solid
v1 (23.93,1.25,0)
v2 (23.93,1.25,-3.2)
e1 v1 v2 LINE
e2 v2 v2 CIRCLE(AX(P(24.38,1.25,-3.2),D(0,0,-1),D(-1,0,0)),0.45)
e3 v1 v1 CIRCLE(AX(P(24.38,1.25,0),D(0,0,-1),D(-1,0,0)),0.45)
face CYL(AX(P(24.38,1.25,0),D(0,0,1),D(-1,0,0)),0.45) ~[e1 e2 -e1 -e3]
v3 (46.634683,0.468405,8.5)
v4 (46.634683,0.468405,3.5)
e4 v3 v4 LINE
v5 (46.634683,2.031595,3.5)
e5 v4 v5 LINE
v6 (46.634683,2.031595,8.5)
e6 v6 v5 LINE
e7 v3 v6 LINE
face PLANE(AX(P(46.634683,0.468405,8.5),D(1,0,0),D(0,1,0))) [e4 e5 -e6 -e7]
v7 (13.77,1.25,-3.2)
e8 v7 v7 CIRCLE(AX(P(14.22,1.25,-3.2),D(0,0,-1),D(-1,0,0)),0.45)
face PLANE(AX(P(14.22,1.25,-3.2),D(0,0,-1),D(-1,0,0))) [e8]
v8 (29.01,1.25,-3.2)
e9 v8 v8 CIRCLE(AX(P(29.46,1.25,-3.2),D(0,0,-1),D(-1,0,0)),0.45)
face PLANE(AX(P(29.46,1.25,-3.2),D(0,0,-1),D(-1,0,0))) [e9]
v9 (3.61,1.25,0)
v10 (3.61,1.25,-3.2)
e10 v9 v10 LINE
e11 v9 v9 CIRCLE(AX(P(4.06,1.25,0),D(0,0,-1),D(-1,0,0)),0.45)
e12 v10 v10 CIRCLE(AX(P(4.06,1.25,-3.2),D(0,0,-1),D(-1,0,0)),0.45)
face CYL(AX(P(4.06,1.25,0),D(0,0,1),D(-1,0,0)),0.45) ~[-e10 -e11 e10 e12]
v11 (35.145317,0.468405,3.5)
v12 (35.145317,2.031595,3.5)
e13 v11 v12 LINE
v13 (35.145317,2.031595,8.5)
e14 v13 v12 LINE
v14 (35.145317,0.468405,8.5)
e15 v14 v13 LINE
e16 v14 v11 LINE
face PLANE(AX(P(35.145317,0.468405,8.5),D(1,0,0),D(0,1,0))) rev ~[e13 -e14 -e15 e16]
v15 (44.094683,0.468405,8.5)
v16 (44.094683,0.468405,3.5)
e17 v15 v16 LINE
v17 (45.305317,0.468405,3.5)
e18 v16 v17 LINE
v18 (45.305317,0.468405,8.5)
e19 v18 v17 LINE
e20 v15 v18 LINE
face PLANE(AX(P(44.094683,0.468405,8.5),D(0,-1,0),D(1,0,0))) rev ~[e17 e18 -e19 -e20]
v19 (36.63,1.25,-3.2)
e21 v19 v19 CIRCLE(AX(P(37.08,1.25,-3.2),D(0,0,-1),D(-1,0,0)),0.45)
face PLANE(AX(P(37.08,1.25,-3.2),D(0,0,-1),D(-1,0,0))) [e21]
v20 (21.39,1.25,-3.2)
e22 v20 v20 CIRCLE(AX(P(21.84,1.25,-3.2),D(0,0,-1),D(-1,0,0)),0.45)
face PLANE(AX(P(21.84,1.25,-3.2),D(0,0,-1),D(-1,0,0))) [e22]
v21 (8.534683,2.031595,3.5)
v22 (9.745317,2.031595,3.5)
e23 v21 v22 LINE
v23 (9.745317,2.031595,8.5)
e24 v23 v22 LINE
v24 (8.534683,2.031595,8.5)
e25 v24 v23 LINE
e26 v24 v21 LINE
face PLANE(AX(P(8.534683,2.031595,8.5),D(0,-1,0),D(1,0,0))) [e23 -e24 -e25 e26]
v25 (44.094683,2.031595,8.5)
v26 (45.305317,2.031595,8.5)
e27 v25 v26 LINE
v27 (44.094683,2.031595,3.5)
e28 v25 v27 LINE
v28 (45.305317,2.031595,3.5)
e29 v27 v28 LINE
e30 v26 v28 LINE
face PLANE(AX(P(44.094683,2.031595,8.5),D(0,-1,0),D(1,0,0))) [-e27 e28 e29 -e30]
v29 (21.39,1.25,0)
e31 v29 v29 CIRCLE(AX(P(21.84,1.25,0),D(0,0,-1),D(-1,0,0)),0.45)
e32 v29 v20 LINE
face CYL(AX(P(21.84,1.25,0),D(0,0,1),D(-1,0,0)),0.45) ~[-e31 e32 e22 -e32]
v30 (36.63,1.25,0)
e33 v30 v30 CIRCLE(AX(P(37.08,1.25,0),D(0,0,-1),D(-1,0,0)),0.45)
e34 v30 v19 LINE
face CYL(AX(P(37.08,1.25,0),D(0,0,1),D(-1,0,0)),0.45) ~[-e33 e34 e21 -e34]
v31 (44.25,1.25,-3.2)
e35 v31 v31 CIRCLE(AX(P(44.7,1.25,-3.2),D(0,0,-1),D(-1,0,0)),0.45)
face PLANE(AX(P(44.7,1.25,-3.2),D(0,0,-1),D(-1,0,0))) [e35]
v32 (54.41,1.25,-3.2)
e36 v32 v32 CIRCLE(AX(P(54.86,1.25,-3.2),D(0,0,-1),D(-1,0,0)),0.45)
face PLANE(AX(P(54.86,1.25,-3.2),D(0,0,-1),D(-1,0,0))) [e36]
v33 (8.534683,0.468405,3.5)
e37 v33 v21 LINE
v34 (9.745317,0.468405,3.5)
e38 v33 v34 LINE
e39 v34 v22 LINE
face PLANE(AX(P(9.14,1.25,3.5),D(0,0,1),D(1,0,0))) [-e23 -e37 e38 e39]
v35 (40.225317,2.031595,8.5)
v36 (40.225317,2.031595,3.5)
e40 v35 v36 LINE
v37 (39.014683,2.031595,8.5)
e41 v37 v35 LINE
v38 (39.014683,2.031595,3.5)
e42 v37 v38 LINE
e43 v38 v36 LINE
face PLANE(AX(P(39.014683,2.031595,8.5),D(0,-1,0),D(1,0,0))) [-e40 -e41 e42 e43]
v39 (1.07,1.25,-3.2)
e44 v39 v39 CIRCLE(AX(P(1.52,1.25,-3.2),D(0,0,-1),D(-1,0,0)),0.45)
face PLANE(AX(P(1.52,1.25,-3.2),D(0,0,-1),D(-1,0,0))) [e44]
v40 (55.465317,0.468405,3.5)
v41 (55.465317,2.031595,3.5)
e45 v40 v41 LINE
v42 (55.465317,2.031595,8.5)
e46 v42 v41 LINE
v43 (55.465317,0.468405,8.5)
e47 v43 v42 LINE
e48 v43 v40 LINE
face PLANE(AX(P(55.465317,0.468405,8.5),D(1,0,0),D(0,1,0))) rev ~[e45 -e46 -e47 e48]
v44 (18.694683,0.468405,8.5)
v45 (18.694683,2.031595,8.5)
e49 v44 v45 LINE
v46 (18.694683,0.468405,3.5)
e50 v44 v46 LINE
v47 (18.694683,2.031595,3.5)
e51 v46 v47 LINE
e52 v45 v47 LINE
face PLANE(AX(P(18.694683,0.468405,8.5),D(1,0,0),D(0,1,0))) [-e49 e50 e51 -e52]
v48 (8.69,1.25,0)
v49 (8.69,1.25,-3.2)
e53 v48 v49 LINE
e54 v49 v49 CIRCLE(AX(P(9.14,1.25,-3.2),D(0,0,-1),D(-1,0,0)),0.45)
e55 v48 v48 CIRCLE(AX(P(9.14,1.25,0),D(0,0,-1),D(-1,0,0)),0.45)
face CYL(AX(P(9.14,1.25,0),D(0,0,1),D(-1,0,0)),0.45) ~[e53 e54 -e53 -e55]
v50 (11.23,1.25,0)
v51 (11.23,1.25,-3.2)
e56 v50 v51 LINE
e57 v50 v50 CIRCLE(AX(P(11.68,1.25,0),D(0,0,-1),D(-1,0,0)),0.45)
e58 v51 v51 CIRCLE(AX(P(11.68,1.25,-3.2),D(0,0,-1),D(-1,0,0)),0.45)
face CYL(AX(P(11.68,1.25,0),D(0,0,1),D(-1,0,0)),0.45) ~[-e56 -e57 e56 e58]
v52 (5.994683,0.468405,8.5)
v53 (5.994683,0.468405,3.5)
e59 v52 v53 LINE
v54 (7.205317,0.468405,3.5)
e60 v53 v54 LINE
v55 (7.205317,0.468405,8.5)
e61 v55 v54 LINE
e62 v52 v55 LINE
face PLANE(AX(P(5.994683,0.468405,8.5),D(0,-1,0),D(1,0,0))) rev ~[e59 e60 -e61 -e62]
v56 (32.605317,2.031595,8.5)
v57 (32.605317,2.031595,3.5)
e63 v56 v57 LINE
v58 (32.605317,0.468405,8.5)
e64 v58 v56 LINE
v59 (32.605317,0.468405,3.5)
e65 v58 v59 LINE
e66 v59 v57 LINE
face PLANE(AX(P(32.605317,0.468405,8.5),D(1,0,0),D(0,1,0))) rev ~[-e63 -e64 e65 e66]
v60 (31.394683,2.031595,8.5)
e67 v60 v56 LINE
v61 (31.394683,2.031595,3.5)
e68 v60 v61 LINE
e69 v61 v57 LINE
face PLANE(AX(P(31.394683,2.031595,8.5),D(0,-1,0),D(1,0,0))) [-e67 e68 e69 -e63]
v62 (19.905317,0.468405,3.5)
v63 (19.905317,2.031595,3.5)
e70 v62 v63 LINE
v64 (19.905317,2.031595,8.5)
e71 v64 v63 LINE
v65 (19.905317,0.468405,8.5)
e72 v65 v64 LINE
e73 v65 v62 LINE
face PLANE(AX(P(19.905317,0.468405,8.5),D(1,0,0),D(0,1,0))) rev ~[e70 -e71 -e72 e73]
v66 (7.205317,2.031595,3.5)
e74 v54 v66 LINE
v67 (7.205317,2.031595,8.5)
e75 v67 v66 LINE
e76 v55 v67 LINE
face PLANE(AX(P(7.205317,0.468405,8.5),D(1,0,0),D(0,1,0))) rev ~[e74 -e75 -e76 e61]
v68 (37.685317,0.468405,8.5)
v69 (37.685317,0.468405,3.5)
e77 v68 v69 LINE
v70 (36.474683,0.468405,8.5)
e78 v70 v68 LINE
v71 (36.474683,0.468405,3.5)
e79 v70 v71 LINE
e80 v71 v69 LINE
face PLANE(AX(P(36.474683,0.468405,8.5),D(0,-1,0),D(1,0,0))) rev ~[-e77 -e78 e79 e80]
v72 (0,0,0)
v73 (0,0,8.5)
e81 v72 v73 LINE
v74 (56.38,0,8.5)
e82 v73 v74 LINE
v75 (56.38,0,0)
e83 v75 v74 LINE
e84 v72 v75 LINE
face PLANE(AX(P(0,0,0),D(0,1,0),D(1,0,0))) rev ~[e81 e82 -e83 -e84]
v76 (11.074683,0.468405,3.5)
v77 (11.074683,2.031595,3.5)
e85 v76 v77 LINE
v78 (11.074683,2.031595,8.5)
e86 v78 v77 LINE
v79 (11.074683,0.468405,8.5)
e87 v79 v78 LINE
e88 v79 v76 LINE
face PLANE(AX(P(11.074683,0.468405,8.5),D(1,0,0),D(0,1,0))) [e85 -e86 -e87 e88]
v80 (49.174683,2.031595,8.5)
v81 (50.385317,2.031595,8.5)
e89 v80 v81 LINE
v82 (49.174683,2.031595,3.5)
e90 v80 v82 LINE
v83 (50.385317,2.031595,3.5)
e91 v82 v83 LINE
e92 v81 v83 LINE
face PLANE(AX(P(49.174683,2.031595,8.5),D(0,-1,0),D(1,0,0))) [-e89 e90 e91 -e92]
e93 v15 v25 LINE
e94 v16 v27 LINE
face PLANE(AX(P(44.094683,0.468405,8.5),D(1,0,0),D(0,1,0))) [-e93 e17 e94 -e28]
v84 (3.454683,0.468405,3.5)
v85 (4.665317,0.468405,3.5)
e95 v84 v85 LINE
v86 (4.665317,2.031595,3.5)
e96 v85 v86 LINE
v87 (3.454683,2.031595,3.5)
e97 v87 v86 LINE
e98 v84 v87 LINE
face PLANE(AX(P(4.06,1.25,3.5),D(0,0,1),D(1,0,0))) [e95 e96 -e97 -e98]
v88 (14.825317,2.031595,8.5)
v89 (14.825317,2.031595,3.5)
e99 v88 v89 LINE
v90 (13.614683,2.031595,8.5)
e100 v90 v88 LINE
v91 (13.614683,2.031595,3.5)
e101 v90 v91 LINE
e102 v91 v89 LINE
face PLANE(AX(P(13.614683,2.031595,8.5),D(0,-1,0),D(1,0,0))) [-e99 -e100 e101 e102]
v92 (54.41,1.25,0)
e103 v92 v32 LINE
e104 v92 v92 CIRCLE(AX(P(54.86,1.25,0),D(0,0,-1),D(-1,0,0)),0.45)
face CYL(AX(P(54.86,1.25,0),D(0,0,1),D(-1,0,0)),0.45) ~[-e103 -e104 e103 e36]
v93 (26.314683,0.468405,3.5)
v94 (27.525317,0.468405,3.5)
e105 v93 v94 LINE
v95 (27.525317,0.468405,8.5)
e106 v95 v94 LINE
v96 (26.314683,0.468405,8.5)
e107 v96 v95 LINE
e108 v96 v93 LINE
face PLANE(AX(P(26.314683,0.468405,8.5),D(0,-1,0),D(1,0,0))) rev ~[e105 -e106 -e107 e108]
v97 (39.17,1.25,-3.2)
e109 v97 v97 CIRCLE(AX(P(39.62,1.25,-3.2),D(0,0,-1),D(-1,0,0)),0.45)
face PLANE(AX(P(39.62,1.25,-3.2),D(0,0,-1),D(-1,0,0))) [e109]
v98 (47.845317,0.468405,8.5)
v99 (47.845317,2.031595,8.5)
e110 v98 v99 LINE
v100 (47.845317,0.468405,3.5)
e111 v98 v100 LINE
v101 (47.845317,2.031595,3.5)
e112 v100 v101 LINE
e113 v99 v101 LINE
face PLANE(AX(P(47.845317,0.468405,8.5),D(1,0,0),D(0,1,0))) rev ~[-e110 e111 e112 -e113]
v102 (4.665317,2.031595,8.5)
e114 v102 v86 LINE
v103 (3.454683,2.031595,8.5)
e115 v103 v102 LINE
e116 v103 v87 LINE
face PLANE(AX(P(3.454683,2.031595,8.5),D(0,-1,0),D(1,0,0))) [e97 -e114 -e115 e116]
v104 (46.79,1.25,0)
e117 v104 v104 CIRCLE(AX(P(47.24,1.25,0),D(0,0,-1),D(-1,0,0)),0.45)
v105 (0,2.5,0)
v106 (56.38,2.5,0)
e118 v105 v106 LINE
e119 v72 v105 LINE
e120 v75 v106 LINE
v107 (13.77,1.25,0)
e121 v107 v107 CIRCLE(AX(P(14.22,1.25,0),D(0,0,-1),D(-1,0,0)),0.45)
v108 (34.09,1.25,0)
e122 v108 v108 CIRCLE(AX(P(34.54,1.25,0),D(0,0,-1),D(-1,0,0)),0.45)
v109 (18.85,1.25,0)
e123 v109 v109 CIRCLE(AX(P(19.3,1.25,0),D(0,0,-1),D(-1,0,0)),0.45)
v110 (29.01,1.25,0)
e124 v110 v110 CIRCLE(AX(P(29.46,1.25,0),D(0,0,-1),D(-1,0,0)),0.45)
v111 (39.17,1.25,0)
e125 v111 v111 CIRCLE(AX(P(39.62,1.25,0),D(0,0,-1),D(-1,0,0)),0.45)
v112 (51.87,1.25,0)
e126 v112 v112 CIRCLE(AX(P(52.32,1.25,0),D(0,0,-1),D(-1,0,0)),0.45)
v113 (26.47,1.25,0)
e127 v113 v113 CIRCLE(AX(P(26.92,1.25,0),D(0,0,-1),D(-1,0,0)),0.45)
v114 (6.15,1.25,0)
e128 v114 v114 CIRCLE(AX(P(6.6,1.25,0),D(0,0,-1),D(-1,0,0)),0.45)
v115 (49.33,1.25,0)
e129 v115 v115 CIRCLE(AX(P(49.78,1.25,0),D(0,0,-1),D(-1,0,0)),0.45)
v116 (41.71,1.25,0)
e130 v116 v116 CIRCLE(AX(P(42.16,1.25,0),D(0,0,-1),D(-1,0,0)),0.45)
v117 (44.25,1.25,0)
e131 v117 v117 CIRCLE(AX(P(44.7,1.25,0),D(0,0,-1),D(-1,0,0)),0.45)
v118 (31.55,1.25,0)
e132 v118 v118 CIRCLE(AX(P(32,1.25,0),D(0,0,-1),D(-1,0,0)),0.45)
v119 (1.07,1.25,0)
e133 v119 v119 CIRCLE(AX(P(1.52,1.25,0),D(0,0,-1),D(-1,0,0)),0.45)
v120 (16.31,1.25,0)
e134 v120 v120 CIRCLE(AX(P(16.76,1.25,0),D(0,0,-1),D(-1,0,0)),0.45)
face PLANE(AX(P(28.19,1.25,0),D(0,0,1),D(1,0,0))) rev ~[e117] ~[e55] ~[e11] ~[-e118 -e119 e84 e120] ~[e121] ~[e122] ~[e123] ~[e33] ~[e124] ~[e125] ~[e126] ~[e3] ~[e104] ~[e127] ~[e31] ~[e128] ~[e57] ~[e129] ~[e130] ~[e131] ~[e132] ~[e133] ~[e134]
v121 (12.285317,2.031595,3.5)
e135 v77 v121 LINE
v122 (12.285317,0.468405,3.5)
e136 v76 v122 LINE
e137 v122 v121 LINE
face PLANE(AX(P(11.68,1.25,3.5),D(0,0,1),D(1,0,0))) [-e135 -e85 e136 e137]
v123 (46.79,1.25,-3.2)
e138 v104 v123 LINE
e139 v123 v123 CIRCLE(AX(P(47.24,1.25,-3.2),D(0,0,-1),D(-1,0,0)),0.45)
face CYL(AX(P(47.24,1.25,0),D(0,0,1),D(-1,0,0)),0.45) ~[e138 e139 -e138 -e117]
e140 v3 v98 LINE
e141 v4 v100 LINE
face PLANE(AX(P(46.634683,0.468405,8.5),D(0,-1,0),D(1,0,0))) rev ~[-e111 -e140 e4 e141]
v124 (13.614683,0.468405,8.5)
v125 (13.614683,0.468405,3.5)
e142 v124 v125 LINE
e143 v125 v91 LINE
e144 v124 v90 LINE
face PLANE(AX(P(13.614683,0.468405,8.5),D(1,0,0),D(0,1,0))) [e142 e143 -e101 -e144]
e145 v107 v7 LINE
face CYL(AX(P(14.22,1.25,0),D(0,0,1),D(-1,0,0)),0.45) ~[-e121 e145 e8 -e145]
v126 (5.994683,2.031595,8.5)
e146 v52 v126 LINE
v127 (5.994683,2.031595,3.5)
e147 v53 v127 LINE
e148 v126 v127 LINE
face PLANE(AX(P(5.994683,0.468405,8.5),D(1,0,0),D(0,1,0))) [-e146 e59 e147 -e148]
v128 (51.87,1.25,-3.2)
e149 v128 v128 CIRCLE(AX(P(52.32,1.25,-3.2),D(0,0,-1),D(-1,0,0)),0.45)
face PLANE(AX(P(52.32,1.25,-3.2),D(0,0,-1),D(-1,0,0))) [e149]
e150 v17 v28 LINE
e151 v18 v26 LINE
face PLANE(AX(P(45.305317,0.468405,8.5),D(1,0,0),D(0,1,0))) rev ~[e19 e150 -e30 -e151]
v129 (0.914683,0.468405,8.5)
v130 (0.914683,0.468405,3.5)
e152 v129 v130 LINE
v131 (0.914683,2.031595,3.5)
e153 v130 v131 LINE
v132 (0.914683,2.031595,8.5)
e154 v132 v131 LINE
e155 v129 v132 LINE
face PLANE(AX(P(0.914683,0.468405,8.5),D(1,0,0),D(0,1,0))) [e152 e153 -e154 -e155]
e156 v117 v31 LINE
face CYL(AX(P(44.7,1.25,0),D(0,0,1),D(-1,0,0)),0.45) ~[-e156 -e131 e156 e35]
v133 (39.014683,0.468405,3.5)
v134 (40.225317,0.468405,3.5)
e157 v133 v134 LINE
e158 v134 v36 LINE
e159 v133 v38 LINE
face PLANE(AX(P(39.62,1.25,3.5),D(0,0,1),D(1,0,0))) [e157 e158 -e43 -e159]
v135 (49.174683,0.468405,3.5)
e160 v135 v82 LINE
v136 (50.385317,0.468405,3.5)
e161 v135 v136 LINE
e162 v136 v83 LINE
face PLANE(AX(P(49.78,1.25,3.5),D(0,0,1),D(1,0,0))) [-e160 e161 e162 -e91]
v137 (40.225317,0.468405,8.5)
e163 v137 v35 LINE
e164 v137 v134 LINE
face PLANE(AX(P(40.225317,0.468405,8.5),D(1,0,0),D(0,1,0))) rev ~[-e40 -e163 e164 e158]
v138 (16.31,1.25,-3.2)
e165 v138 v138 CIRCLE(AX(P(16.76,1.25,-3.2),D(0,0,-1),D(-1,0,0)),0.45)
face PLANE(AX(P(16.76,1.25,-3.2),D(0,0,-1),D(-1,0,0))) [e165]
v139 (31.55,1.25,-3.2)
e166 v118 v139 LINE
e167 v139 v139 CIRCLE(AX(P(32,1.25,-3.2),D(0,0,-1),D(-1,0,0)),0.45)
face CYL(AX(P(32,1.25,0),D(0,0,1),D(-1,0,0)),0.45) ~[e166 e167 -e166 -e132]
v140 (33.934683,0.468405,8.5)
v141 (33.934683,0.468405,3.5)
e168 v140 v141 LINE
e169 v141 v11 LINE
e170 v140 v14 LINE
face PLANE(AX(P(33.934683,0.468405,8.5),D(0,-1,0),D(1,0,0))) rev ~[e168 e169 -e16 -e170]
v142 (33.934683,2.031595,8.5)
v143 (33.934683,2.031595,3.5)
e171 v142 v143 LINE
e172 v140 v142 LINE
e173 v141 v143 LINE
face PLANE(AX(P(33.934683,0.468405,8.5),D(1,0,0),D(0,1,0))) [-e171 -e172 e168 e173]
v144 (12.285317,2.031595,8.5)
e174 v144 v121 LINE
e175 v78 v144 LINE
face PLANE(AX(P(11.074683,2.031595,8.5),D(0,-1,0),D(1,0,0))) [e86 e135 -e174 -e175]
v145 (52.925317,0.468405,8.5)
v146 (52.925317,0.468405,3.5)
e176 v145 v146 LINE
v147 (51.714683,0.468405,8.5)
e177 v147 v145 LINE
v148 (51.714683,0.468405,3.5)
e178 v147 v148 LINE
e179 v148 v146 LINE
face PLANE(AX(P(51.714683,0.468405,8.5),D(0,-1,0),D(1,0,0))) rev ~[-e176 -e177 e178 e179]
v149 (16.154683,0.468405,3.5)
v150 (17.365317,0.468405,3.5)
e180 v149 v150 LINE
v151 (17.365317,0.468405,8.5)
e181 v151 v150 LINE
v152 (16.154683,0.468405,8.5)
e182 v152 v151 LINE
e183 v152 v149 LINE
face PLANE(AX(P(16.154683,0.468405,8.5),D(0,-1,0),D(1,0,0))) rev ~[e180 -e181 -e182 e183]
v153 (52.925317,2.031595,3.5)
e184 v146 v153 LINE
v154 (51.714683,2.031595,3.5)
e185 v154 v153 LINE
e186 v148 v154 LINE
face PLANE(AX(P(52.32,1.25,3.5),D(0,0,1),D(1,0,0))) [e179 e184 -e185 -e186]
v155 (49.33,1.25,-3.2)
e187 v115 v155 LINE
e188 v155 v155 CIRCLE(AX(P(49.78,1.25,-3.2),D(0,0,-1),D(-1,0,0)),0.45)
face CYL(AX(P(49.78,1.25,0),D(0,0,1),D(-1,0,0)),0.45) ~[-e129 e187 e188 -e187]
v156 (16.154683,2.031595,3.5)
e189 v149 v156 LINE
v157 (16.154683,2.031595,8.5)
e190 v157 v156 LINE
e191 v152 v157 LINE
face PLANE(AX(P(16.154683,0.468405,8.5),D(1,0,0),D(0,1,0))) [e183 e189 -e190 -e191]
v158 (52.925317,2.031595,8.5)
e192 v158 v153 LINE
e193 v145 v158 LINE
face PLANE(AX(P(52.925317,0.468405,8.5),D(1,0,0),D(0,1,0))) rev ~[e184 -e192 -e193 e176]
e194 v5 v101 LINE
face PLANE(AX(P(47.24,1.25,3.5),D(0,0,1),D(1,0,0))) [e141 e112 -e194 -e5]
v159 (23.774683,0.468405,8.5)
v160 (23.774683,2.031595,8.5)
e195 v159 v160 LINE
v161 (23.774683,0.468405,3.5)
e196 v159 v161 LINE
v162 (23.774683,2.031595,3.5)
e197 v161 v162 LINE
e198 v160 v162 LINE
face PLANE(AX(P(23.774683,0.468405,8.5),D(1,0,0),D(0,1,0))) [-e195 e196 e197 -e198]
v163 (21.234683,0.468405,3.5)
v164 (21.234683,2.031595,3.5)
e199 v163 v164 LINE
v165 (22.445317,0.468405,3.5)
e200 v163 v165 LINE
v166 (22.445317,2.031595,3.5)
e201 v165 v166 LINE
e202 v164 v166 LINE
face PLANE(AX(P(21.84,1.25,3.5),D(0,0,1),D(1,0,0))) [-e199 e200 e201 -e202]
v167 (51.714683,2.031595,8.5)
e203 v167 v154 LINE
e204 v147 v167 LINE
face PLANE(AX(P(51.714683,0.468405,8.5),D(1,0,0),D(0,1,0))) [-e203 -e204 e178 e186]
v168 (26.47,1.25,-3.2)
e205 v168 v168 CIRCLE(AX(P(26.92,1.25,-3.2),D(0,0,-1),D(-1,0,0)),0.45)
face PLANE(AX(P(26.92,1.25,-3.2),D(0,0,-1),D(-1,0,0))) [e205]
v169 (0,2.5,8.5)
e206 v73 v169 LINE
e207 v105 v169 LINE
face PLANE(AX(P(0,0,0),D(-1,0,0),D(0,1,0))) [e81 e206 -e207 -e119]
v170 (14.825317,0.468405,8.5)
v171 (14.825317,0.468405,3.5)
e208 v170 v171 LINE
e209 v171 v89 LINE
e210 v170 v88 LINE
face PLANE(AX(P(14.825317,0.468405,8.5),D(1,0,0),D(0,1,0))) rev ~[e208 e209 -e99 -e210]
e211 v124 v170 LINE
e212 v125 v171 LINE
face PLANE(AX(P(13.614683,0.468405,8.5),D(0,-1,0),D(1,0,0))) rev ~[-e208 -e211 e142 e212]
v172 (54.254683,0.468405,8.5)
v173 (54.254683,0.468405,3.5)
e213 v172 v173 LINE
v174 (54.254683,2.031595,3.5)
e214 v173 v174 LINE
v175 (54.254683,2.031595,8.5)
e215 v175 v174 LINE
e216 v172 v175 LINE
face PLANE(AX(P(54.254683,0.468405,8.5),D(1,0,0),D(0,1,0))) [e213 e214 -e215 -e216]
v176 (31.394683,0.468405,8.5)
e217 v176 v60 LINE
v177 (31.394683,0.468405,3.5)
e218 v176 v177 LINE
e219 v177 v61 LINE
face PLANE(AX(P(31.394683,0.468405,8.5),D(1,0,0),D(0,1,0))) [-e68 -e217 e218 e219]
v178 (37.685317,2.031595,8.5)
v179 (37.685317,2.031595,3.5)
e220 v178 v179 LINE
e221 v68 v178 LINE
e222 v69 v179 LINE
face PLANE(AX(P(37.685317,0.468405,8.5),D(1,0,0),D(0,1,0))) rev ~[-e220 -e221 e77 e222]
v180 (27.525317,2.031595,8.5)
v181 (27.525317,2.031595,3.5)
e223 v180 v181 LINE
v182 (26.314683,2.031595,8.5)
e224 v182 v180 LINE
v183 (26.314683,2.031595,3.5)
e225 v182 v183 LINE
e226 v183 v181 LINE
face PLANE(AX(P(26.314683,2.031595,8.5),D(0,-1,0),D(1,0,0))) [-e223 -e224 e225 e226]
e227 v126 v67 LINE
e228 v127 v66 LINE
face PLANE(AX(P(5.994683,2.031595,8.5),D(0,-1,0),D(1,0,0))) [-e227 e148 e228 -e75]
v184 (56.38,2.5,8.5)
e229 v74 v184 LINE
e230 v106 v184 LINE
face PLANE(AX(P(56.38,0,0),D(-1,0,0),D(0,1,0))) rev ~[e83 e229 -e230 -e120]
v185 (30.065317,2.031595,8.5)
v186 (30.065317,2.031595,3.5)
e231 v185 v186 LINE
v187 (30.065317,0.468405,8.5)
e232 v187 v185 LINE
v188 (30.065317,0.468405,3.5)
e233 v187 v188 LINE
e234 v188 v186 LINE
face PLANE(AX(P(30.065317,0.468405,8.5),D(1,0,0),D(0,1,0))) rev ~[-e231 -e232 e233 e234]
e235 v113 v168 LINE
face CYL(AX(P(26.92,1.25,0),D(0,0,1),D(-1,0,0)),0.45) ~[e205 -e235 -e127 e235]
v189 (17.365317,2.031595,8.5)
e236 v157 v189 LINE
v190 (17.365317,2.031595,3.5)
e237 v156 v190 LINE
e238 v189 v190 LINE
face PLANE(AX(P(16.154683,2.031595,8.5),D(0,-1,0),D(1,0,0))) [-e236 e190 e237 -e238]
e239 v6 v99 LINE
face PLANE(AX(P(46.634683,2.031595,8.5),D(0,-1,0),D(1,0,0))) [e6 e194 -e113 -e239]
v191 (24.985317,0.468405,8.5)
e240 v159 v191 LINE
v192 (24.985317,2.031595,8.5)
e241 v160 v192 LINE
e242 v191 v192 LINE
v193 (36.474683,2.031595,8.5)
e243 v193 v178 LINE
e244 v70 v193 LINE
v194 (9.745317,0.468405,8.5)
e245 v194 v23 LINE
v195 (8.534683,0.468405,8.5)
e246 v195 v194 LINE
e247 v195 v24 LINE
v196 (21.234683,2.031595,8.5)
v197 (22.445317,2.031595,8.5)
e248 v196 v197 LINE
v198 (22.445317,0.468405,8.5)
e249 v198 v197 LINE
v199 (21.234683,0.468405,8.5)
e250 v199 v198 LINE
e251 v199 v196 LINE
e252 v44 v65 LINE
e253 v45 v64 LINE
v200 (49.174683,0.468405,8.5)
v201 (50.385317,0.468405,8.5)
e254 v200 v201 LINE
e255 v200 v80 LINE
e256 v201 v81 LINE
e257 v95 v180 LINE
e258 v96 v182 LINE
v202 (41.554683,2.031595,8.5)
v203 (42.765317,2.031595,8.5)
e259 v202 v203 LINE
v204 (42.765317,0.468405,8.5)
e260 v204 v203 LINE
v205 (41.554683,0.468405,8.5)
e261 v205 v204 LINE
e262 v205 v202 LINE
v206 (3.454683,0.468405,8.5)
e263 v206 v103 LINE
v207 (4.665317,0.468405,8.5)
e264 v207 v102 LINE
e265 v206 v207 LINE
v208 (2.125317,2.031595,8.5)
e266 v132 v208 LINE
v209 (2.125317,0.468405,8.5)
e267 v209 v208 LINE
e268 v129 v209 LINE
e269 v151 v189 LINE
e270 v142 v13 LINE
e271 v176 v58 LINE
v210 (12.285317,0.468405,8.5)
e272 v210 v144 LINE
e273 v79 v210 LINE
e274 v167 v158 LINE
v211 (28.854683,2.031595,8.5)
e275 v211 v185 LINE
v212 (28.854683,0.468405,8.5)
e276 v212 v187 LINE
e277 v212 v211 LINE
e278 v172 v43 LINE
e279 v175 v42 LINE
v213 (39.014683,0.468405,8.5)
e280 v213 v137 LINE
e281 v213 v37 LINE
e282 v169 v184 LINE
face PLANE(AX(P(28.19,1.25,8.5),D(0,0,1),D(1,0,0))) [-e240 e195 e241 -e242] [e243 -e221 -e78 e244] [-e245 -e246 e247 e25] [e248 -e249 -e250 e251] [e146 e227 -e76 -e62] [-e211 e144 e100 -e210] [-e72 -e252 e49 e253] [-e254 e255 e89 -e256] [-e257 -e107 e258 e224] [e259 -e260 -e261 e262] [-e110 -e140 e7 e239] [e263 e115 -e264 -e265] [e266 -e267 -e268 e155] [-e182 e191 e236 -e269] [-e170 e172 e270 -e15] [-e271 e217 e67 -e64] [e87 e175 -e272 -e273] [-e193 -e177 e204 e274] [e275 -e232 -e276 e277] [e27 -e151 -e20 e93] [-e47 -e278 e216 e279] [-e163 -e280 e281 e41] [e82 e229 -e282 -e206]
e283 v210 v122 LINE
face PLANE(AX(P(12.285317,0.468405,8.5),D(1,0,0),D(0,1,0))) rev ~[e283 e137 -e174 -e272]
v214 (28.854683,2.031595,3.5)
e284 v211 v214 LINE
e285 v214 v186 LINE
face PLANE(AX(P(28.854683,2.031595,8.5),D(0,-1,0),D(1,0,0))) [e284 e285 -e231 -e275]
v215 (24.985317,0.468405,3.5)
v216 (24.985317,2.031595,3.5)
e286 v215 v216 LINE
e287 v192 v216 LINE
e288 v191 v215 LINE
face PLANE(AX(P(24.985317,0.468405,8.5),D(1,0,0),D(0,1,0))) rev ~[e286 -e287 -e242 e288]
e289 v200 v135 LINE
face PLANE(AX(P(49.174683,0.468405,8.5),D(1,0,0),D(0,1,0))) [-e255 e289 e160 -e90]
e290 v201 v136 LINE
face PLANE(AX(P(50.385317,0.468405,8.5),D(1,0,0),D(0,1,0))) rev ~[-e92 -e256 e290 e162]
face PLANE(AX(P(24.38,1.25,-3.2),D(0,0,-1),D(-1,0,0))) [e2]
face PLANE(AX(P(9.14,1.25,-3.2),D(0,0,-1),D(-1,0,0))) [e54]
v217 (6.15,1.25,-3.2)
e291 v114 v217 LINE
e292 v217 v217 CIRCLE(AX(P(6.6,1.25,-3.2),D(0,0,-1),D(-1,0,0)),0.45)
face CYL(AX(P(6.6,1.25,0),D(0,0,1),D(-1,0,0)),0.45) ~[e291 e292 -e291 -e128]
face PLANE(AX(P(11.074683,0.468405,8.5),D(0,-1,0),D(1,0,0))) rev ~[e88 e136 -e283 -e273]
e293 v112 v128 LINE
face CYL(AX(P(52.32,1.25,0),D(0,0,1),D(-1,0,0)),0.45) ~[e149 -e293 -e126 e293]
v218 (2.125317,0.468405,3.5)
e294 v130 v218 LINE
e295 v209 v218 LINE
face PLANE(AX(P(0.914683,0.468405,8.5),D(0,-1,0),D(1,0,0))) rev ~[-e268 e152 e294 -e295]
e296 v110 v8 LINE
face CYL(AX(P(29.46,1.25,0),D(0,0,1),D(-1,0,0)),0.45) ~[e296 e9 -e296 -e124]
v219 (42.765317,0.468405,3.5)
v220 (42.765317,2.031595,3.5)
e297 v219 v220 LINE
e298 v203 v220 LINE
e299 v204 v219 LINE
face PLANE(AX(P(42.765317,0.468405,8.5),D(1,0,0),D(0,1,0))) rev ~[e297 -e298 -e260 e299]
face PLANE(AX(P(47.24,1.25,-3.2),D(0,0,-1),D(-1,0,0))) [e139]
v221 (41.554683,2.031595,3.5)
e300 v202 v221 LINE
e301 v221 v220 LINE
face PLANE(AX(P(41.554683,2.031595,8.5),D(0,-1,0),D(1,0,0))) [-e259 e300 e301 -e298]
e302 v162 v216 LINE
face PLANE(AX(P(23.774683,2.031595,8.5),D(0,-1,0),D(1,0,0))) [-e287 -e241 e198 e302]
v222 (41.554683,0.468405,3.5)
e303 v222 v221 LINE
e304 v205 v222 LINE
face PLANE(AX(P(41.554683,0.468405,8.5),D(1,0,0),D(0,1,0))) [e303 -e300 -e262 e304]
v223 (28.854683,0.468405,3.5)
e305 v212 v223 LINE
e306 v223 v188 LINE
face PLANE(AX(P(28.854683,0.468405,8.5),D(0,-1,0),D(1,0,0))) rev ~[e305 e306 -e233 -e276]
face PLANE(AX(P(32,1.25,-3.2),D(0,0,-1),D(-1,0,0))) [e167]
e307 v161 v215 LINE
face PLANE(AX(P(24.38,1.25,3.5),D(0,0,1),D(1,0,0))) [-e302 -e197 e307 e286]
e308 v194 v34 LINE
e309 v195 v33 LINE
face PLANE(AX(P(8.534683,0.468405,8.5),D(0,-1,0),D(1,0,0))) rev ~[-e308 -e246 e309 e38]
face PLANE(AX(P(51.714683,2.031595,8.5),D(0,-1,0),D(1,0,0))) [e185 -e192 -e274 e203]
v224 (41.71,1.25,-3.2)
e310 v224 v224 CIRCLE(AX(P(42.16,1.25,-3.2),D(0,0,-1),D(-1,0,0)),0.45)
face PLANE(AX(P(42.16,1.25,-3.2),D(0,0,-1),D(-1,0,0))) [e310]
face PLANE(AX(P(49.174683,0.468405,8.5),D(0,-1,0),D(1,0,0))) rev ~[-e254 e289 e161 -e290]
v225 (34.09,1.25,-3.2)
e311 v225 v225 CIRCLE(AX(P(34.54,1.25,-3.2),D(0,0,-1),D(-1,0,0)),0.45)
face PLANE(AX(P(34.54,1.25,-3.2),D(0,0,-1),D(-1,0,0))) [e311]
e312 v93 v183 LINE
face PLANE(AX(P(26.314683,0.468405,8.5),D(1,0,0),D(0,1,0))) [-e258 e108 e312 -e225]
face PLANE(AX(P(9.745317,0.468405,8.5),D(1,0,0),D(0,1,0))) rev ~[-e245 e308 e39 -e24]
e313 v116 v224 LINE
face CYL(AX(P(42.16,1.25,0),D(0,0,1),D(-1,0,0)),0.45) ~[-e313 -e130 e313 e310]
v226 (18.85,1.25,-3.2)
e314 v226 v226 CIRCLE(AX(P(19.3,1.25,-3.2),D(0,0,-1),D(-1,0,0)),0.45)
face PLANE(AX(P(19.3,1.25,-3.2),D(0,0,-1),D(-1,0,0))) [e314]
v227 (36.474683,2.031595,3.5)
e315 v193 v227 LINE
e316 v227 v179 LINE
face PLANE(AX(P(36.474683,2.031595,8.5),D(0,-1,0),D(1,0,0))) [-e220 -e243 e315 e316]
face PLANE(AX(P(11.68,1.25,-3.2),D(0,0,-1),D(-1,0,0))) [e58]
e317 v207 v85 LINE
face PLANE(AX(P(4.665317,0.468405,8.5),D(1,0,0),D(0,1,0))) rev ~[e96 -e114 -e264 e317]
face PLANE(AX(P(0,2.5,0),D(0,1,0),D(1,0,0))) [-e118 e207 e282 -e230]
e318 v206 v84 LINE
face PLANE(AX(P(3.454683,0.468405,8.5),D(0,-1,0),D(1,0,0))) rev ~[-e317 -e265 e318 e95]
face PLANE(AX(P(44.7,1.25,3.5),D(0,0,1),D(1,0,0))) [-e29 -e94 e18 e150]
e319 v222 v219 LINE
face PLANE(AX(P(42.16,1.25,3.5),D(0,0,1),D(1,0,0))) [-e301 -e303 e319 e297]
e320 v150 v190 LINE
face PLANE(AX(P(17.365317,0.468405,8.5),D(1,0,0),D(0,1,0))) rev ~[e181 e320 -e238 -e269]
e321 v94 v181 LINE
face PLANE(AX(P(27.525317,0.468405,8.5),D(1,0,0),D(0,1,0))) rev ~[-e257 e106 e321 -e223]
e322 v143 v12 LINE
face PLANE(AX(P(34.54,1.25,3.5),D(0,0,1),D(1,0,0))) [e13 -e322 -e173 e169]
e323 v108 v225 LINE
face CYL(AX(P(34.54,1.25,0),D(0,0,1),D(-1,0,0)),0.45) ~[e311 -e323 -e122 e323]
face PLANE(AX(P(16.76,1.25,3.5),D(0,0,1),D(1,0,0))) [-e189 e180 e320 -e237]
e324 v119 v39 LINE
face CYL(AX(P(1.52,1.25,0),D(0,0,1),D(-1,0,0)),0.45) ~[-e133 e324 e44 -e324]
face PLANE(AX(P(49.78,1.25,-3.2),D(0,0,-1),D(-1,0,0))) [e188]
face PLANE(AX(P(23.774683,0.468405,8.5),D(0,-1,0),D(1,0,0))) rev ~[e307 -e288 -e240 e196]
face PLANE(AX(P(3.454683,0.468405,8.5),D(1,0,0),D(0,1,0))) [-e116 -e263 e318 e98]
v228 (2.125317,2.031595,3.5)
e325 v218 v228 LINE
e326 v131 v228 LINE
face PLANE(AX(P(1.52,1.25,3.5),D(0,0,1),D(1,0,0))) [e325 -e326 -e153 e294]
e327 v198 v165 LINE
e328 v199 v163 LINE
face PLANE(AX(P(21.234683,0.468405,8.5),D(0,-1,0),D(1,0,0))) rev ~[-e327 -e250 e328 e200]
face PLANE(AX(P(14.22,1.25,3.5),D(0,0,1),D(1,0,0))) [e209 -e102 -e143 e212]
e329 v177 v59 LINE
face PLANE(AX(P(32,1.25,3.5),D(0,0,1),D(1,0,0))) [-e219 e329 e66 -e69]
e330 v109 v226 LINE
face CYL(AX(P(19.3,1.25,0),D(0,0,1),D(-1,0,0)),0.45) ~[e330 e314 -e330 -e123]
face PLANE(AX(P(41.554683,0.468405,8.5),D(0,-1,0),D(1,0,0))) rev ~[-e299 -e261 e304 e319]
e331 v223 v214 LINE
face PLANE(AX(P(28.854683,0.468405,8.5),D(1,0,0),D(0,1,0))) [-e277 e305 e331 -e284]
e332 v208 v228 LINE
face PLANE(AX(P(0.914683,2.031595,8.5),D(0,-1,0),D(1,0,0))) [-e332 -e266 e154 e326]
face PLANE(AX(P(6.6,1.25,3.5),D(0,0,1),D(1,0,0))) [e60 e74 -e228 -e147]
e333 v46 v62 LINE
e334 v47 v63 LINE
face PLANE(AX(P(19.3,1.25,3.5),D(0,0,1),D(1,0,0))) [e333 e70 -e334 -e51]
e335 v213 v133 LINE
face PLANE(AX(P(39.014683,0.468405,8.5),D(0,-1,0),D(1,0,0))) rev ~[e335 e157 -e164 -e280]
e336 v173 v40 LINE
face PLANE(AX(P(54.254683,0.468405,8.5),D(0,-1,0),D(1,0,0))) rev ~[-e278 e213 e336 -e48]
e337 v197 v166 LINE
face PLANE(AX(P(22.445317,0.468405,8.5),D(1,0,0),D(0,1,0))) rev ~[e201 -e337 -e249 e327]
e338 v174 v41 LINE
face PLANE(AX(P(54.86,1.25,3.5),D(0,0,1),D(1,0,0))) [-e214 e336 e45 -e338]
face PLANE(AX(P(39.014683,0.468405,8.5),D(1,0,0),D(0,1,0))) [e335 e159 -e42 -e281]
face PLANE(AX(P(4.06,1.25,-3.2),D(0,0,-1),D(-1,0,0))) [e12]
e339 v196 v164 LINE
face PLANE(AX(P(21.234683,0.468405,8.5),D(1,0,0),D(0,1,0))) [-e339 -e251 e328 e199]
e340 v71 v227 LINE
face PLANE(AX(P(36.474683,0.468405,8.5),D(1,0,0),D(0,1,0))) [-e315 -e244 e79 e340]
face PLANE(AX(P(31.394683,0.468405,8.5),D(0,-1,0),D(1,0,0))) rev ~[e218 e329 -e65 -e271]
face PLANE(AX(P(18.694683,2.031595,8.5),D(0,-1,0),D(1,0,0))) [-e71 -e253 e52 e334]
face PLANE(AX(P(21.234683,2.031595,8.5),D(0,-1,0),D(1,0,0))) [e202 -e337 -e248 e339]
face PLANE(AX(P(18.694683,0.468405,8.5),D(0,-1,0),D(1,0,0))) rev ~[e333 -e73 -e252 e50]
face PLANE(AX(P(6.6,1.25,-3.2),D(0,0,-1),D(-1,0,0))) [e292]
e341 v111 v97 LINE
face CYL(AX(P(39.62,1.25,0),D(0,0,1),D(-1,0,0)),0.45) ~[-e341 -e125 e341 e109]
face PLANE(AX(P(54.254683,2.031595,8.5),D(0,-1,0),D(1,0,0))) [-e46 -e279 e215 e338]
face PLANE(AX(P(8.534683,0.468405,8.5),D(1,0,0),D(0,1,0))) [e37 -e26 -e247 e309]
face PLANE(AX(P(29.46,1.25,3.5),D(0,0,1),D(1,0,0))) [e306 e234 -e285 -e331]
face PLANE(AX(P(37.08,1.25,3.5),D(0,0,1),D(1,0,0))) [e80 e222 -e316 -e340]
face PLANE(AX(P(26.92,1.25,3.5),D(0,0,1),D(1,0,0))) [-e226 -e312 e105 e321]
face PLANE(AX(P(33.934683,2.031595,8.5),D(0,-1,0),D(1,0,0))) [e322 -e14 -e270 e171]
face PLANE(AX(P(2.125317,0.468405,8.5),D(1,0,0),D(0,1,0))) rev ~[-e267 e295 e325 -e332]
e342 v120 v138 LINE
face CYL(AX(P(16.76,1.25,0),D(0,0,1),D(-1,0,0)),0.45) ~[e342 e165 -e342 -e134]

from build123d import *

# Parameters (mm, degrees)
SKETCH_1_W             = 56.38
SKETCH_1_H             = 2.5
EXTRUDE_1_DEPTH        = 8.5
SKETCH_2_W             = 1.210634416
SKETCH_2_H             = 1.563190286
CUT_EXTRUDE_1_DEPTH    = 5
PATTERN_LINEAR_1_COUNT = 12
PATTERN_LINEAR_1_PITCH = 2.54
PATTERN_LINEAR_2_COUNT = 11
PATTERN_LINEAR_2_PITCH = 2.54
SKETCH_3_R             = 0.45
EXTRUDE_2_DEPTH        = 3.2
PATTERN_LINEAR_3_COUNT = 22
PATTERN_LINEAR_3_PITCH = 2.54


with BuildPart() as part:
    # 草图1 → 凸台-拉伸1 (new body)
    with BuildSketch(Plane.XY):
        with Locations((28.19, 1.25)):
            Rectangle(SKETCH_1_W, SKETCH_1_H)
    extrude(amount=EXTRUDE_1_DEPTH)

    # 草图2 → 切除-拉伸1 (cut)
    with BuildSketch(Plane.XY.offset(8.5)):
        with Locations((26.92, 1.25)):
            Rectangle(SKETCH_2_W, SKETCH_2_H)
    cut_extrude_1 = extrude(amount=-CUT_EXTRUDE_1_DEPTH, mode=Mode.SUBTRACT)

    # 阵列(线性)1: 切除-拉伸1 ×12
    with Locations(*[(i * PATTERN_LINEAR_1_PITCH, 0, 0) for i in range(1, PATTERN_LINEAR_1_COUNT)]):
        add(cut_extrude_1, mode=Mode.SUBTRACT)

    # 阵列(线性)2: 切除-拉伸1 ×11
    with Locations(*[(-i * PATTERN_LINEAR_2_PITCH, 0, 0) for i in range(1, PATTERN_LINEAR_2_COUNT)]):
        add(cut_extrude_1, mode=Mode.SUBTRACT)

    # 草图3 → 凸台-拉伸2 (add)
    with BuildSketch(Plane(origin=(0, 0, 0), x_dir=(-1, 0, 0), z_dir=(0, 0, -1))):
        with Locations((-54.86, 1.25)):
            Circle(SKETCH_3_R)
    extrude_2 = extrude(amount=EXTRUDE_2_DEPTH)

    # 阵列(线性)3: 凸台-拉伸2 ×22
    with Locations(*[(-i * PATTERN_LINEAR_3_PITCH, 0, 0) for i in range(1, PATTERN_LINEAR_3_COUNT)]):
        add(extrude_2)


solid = part.part
